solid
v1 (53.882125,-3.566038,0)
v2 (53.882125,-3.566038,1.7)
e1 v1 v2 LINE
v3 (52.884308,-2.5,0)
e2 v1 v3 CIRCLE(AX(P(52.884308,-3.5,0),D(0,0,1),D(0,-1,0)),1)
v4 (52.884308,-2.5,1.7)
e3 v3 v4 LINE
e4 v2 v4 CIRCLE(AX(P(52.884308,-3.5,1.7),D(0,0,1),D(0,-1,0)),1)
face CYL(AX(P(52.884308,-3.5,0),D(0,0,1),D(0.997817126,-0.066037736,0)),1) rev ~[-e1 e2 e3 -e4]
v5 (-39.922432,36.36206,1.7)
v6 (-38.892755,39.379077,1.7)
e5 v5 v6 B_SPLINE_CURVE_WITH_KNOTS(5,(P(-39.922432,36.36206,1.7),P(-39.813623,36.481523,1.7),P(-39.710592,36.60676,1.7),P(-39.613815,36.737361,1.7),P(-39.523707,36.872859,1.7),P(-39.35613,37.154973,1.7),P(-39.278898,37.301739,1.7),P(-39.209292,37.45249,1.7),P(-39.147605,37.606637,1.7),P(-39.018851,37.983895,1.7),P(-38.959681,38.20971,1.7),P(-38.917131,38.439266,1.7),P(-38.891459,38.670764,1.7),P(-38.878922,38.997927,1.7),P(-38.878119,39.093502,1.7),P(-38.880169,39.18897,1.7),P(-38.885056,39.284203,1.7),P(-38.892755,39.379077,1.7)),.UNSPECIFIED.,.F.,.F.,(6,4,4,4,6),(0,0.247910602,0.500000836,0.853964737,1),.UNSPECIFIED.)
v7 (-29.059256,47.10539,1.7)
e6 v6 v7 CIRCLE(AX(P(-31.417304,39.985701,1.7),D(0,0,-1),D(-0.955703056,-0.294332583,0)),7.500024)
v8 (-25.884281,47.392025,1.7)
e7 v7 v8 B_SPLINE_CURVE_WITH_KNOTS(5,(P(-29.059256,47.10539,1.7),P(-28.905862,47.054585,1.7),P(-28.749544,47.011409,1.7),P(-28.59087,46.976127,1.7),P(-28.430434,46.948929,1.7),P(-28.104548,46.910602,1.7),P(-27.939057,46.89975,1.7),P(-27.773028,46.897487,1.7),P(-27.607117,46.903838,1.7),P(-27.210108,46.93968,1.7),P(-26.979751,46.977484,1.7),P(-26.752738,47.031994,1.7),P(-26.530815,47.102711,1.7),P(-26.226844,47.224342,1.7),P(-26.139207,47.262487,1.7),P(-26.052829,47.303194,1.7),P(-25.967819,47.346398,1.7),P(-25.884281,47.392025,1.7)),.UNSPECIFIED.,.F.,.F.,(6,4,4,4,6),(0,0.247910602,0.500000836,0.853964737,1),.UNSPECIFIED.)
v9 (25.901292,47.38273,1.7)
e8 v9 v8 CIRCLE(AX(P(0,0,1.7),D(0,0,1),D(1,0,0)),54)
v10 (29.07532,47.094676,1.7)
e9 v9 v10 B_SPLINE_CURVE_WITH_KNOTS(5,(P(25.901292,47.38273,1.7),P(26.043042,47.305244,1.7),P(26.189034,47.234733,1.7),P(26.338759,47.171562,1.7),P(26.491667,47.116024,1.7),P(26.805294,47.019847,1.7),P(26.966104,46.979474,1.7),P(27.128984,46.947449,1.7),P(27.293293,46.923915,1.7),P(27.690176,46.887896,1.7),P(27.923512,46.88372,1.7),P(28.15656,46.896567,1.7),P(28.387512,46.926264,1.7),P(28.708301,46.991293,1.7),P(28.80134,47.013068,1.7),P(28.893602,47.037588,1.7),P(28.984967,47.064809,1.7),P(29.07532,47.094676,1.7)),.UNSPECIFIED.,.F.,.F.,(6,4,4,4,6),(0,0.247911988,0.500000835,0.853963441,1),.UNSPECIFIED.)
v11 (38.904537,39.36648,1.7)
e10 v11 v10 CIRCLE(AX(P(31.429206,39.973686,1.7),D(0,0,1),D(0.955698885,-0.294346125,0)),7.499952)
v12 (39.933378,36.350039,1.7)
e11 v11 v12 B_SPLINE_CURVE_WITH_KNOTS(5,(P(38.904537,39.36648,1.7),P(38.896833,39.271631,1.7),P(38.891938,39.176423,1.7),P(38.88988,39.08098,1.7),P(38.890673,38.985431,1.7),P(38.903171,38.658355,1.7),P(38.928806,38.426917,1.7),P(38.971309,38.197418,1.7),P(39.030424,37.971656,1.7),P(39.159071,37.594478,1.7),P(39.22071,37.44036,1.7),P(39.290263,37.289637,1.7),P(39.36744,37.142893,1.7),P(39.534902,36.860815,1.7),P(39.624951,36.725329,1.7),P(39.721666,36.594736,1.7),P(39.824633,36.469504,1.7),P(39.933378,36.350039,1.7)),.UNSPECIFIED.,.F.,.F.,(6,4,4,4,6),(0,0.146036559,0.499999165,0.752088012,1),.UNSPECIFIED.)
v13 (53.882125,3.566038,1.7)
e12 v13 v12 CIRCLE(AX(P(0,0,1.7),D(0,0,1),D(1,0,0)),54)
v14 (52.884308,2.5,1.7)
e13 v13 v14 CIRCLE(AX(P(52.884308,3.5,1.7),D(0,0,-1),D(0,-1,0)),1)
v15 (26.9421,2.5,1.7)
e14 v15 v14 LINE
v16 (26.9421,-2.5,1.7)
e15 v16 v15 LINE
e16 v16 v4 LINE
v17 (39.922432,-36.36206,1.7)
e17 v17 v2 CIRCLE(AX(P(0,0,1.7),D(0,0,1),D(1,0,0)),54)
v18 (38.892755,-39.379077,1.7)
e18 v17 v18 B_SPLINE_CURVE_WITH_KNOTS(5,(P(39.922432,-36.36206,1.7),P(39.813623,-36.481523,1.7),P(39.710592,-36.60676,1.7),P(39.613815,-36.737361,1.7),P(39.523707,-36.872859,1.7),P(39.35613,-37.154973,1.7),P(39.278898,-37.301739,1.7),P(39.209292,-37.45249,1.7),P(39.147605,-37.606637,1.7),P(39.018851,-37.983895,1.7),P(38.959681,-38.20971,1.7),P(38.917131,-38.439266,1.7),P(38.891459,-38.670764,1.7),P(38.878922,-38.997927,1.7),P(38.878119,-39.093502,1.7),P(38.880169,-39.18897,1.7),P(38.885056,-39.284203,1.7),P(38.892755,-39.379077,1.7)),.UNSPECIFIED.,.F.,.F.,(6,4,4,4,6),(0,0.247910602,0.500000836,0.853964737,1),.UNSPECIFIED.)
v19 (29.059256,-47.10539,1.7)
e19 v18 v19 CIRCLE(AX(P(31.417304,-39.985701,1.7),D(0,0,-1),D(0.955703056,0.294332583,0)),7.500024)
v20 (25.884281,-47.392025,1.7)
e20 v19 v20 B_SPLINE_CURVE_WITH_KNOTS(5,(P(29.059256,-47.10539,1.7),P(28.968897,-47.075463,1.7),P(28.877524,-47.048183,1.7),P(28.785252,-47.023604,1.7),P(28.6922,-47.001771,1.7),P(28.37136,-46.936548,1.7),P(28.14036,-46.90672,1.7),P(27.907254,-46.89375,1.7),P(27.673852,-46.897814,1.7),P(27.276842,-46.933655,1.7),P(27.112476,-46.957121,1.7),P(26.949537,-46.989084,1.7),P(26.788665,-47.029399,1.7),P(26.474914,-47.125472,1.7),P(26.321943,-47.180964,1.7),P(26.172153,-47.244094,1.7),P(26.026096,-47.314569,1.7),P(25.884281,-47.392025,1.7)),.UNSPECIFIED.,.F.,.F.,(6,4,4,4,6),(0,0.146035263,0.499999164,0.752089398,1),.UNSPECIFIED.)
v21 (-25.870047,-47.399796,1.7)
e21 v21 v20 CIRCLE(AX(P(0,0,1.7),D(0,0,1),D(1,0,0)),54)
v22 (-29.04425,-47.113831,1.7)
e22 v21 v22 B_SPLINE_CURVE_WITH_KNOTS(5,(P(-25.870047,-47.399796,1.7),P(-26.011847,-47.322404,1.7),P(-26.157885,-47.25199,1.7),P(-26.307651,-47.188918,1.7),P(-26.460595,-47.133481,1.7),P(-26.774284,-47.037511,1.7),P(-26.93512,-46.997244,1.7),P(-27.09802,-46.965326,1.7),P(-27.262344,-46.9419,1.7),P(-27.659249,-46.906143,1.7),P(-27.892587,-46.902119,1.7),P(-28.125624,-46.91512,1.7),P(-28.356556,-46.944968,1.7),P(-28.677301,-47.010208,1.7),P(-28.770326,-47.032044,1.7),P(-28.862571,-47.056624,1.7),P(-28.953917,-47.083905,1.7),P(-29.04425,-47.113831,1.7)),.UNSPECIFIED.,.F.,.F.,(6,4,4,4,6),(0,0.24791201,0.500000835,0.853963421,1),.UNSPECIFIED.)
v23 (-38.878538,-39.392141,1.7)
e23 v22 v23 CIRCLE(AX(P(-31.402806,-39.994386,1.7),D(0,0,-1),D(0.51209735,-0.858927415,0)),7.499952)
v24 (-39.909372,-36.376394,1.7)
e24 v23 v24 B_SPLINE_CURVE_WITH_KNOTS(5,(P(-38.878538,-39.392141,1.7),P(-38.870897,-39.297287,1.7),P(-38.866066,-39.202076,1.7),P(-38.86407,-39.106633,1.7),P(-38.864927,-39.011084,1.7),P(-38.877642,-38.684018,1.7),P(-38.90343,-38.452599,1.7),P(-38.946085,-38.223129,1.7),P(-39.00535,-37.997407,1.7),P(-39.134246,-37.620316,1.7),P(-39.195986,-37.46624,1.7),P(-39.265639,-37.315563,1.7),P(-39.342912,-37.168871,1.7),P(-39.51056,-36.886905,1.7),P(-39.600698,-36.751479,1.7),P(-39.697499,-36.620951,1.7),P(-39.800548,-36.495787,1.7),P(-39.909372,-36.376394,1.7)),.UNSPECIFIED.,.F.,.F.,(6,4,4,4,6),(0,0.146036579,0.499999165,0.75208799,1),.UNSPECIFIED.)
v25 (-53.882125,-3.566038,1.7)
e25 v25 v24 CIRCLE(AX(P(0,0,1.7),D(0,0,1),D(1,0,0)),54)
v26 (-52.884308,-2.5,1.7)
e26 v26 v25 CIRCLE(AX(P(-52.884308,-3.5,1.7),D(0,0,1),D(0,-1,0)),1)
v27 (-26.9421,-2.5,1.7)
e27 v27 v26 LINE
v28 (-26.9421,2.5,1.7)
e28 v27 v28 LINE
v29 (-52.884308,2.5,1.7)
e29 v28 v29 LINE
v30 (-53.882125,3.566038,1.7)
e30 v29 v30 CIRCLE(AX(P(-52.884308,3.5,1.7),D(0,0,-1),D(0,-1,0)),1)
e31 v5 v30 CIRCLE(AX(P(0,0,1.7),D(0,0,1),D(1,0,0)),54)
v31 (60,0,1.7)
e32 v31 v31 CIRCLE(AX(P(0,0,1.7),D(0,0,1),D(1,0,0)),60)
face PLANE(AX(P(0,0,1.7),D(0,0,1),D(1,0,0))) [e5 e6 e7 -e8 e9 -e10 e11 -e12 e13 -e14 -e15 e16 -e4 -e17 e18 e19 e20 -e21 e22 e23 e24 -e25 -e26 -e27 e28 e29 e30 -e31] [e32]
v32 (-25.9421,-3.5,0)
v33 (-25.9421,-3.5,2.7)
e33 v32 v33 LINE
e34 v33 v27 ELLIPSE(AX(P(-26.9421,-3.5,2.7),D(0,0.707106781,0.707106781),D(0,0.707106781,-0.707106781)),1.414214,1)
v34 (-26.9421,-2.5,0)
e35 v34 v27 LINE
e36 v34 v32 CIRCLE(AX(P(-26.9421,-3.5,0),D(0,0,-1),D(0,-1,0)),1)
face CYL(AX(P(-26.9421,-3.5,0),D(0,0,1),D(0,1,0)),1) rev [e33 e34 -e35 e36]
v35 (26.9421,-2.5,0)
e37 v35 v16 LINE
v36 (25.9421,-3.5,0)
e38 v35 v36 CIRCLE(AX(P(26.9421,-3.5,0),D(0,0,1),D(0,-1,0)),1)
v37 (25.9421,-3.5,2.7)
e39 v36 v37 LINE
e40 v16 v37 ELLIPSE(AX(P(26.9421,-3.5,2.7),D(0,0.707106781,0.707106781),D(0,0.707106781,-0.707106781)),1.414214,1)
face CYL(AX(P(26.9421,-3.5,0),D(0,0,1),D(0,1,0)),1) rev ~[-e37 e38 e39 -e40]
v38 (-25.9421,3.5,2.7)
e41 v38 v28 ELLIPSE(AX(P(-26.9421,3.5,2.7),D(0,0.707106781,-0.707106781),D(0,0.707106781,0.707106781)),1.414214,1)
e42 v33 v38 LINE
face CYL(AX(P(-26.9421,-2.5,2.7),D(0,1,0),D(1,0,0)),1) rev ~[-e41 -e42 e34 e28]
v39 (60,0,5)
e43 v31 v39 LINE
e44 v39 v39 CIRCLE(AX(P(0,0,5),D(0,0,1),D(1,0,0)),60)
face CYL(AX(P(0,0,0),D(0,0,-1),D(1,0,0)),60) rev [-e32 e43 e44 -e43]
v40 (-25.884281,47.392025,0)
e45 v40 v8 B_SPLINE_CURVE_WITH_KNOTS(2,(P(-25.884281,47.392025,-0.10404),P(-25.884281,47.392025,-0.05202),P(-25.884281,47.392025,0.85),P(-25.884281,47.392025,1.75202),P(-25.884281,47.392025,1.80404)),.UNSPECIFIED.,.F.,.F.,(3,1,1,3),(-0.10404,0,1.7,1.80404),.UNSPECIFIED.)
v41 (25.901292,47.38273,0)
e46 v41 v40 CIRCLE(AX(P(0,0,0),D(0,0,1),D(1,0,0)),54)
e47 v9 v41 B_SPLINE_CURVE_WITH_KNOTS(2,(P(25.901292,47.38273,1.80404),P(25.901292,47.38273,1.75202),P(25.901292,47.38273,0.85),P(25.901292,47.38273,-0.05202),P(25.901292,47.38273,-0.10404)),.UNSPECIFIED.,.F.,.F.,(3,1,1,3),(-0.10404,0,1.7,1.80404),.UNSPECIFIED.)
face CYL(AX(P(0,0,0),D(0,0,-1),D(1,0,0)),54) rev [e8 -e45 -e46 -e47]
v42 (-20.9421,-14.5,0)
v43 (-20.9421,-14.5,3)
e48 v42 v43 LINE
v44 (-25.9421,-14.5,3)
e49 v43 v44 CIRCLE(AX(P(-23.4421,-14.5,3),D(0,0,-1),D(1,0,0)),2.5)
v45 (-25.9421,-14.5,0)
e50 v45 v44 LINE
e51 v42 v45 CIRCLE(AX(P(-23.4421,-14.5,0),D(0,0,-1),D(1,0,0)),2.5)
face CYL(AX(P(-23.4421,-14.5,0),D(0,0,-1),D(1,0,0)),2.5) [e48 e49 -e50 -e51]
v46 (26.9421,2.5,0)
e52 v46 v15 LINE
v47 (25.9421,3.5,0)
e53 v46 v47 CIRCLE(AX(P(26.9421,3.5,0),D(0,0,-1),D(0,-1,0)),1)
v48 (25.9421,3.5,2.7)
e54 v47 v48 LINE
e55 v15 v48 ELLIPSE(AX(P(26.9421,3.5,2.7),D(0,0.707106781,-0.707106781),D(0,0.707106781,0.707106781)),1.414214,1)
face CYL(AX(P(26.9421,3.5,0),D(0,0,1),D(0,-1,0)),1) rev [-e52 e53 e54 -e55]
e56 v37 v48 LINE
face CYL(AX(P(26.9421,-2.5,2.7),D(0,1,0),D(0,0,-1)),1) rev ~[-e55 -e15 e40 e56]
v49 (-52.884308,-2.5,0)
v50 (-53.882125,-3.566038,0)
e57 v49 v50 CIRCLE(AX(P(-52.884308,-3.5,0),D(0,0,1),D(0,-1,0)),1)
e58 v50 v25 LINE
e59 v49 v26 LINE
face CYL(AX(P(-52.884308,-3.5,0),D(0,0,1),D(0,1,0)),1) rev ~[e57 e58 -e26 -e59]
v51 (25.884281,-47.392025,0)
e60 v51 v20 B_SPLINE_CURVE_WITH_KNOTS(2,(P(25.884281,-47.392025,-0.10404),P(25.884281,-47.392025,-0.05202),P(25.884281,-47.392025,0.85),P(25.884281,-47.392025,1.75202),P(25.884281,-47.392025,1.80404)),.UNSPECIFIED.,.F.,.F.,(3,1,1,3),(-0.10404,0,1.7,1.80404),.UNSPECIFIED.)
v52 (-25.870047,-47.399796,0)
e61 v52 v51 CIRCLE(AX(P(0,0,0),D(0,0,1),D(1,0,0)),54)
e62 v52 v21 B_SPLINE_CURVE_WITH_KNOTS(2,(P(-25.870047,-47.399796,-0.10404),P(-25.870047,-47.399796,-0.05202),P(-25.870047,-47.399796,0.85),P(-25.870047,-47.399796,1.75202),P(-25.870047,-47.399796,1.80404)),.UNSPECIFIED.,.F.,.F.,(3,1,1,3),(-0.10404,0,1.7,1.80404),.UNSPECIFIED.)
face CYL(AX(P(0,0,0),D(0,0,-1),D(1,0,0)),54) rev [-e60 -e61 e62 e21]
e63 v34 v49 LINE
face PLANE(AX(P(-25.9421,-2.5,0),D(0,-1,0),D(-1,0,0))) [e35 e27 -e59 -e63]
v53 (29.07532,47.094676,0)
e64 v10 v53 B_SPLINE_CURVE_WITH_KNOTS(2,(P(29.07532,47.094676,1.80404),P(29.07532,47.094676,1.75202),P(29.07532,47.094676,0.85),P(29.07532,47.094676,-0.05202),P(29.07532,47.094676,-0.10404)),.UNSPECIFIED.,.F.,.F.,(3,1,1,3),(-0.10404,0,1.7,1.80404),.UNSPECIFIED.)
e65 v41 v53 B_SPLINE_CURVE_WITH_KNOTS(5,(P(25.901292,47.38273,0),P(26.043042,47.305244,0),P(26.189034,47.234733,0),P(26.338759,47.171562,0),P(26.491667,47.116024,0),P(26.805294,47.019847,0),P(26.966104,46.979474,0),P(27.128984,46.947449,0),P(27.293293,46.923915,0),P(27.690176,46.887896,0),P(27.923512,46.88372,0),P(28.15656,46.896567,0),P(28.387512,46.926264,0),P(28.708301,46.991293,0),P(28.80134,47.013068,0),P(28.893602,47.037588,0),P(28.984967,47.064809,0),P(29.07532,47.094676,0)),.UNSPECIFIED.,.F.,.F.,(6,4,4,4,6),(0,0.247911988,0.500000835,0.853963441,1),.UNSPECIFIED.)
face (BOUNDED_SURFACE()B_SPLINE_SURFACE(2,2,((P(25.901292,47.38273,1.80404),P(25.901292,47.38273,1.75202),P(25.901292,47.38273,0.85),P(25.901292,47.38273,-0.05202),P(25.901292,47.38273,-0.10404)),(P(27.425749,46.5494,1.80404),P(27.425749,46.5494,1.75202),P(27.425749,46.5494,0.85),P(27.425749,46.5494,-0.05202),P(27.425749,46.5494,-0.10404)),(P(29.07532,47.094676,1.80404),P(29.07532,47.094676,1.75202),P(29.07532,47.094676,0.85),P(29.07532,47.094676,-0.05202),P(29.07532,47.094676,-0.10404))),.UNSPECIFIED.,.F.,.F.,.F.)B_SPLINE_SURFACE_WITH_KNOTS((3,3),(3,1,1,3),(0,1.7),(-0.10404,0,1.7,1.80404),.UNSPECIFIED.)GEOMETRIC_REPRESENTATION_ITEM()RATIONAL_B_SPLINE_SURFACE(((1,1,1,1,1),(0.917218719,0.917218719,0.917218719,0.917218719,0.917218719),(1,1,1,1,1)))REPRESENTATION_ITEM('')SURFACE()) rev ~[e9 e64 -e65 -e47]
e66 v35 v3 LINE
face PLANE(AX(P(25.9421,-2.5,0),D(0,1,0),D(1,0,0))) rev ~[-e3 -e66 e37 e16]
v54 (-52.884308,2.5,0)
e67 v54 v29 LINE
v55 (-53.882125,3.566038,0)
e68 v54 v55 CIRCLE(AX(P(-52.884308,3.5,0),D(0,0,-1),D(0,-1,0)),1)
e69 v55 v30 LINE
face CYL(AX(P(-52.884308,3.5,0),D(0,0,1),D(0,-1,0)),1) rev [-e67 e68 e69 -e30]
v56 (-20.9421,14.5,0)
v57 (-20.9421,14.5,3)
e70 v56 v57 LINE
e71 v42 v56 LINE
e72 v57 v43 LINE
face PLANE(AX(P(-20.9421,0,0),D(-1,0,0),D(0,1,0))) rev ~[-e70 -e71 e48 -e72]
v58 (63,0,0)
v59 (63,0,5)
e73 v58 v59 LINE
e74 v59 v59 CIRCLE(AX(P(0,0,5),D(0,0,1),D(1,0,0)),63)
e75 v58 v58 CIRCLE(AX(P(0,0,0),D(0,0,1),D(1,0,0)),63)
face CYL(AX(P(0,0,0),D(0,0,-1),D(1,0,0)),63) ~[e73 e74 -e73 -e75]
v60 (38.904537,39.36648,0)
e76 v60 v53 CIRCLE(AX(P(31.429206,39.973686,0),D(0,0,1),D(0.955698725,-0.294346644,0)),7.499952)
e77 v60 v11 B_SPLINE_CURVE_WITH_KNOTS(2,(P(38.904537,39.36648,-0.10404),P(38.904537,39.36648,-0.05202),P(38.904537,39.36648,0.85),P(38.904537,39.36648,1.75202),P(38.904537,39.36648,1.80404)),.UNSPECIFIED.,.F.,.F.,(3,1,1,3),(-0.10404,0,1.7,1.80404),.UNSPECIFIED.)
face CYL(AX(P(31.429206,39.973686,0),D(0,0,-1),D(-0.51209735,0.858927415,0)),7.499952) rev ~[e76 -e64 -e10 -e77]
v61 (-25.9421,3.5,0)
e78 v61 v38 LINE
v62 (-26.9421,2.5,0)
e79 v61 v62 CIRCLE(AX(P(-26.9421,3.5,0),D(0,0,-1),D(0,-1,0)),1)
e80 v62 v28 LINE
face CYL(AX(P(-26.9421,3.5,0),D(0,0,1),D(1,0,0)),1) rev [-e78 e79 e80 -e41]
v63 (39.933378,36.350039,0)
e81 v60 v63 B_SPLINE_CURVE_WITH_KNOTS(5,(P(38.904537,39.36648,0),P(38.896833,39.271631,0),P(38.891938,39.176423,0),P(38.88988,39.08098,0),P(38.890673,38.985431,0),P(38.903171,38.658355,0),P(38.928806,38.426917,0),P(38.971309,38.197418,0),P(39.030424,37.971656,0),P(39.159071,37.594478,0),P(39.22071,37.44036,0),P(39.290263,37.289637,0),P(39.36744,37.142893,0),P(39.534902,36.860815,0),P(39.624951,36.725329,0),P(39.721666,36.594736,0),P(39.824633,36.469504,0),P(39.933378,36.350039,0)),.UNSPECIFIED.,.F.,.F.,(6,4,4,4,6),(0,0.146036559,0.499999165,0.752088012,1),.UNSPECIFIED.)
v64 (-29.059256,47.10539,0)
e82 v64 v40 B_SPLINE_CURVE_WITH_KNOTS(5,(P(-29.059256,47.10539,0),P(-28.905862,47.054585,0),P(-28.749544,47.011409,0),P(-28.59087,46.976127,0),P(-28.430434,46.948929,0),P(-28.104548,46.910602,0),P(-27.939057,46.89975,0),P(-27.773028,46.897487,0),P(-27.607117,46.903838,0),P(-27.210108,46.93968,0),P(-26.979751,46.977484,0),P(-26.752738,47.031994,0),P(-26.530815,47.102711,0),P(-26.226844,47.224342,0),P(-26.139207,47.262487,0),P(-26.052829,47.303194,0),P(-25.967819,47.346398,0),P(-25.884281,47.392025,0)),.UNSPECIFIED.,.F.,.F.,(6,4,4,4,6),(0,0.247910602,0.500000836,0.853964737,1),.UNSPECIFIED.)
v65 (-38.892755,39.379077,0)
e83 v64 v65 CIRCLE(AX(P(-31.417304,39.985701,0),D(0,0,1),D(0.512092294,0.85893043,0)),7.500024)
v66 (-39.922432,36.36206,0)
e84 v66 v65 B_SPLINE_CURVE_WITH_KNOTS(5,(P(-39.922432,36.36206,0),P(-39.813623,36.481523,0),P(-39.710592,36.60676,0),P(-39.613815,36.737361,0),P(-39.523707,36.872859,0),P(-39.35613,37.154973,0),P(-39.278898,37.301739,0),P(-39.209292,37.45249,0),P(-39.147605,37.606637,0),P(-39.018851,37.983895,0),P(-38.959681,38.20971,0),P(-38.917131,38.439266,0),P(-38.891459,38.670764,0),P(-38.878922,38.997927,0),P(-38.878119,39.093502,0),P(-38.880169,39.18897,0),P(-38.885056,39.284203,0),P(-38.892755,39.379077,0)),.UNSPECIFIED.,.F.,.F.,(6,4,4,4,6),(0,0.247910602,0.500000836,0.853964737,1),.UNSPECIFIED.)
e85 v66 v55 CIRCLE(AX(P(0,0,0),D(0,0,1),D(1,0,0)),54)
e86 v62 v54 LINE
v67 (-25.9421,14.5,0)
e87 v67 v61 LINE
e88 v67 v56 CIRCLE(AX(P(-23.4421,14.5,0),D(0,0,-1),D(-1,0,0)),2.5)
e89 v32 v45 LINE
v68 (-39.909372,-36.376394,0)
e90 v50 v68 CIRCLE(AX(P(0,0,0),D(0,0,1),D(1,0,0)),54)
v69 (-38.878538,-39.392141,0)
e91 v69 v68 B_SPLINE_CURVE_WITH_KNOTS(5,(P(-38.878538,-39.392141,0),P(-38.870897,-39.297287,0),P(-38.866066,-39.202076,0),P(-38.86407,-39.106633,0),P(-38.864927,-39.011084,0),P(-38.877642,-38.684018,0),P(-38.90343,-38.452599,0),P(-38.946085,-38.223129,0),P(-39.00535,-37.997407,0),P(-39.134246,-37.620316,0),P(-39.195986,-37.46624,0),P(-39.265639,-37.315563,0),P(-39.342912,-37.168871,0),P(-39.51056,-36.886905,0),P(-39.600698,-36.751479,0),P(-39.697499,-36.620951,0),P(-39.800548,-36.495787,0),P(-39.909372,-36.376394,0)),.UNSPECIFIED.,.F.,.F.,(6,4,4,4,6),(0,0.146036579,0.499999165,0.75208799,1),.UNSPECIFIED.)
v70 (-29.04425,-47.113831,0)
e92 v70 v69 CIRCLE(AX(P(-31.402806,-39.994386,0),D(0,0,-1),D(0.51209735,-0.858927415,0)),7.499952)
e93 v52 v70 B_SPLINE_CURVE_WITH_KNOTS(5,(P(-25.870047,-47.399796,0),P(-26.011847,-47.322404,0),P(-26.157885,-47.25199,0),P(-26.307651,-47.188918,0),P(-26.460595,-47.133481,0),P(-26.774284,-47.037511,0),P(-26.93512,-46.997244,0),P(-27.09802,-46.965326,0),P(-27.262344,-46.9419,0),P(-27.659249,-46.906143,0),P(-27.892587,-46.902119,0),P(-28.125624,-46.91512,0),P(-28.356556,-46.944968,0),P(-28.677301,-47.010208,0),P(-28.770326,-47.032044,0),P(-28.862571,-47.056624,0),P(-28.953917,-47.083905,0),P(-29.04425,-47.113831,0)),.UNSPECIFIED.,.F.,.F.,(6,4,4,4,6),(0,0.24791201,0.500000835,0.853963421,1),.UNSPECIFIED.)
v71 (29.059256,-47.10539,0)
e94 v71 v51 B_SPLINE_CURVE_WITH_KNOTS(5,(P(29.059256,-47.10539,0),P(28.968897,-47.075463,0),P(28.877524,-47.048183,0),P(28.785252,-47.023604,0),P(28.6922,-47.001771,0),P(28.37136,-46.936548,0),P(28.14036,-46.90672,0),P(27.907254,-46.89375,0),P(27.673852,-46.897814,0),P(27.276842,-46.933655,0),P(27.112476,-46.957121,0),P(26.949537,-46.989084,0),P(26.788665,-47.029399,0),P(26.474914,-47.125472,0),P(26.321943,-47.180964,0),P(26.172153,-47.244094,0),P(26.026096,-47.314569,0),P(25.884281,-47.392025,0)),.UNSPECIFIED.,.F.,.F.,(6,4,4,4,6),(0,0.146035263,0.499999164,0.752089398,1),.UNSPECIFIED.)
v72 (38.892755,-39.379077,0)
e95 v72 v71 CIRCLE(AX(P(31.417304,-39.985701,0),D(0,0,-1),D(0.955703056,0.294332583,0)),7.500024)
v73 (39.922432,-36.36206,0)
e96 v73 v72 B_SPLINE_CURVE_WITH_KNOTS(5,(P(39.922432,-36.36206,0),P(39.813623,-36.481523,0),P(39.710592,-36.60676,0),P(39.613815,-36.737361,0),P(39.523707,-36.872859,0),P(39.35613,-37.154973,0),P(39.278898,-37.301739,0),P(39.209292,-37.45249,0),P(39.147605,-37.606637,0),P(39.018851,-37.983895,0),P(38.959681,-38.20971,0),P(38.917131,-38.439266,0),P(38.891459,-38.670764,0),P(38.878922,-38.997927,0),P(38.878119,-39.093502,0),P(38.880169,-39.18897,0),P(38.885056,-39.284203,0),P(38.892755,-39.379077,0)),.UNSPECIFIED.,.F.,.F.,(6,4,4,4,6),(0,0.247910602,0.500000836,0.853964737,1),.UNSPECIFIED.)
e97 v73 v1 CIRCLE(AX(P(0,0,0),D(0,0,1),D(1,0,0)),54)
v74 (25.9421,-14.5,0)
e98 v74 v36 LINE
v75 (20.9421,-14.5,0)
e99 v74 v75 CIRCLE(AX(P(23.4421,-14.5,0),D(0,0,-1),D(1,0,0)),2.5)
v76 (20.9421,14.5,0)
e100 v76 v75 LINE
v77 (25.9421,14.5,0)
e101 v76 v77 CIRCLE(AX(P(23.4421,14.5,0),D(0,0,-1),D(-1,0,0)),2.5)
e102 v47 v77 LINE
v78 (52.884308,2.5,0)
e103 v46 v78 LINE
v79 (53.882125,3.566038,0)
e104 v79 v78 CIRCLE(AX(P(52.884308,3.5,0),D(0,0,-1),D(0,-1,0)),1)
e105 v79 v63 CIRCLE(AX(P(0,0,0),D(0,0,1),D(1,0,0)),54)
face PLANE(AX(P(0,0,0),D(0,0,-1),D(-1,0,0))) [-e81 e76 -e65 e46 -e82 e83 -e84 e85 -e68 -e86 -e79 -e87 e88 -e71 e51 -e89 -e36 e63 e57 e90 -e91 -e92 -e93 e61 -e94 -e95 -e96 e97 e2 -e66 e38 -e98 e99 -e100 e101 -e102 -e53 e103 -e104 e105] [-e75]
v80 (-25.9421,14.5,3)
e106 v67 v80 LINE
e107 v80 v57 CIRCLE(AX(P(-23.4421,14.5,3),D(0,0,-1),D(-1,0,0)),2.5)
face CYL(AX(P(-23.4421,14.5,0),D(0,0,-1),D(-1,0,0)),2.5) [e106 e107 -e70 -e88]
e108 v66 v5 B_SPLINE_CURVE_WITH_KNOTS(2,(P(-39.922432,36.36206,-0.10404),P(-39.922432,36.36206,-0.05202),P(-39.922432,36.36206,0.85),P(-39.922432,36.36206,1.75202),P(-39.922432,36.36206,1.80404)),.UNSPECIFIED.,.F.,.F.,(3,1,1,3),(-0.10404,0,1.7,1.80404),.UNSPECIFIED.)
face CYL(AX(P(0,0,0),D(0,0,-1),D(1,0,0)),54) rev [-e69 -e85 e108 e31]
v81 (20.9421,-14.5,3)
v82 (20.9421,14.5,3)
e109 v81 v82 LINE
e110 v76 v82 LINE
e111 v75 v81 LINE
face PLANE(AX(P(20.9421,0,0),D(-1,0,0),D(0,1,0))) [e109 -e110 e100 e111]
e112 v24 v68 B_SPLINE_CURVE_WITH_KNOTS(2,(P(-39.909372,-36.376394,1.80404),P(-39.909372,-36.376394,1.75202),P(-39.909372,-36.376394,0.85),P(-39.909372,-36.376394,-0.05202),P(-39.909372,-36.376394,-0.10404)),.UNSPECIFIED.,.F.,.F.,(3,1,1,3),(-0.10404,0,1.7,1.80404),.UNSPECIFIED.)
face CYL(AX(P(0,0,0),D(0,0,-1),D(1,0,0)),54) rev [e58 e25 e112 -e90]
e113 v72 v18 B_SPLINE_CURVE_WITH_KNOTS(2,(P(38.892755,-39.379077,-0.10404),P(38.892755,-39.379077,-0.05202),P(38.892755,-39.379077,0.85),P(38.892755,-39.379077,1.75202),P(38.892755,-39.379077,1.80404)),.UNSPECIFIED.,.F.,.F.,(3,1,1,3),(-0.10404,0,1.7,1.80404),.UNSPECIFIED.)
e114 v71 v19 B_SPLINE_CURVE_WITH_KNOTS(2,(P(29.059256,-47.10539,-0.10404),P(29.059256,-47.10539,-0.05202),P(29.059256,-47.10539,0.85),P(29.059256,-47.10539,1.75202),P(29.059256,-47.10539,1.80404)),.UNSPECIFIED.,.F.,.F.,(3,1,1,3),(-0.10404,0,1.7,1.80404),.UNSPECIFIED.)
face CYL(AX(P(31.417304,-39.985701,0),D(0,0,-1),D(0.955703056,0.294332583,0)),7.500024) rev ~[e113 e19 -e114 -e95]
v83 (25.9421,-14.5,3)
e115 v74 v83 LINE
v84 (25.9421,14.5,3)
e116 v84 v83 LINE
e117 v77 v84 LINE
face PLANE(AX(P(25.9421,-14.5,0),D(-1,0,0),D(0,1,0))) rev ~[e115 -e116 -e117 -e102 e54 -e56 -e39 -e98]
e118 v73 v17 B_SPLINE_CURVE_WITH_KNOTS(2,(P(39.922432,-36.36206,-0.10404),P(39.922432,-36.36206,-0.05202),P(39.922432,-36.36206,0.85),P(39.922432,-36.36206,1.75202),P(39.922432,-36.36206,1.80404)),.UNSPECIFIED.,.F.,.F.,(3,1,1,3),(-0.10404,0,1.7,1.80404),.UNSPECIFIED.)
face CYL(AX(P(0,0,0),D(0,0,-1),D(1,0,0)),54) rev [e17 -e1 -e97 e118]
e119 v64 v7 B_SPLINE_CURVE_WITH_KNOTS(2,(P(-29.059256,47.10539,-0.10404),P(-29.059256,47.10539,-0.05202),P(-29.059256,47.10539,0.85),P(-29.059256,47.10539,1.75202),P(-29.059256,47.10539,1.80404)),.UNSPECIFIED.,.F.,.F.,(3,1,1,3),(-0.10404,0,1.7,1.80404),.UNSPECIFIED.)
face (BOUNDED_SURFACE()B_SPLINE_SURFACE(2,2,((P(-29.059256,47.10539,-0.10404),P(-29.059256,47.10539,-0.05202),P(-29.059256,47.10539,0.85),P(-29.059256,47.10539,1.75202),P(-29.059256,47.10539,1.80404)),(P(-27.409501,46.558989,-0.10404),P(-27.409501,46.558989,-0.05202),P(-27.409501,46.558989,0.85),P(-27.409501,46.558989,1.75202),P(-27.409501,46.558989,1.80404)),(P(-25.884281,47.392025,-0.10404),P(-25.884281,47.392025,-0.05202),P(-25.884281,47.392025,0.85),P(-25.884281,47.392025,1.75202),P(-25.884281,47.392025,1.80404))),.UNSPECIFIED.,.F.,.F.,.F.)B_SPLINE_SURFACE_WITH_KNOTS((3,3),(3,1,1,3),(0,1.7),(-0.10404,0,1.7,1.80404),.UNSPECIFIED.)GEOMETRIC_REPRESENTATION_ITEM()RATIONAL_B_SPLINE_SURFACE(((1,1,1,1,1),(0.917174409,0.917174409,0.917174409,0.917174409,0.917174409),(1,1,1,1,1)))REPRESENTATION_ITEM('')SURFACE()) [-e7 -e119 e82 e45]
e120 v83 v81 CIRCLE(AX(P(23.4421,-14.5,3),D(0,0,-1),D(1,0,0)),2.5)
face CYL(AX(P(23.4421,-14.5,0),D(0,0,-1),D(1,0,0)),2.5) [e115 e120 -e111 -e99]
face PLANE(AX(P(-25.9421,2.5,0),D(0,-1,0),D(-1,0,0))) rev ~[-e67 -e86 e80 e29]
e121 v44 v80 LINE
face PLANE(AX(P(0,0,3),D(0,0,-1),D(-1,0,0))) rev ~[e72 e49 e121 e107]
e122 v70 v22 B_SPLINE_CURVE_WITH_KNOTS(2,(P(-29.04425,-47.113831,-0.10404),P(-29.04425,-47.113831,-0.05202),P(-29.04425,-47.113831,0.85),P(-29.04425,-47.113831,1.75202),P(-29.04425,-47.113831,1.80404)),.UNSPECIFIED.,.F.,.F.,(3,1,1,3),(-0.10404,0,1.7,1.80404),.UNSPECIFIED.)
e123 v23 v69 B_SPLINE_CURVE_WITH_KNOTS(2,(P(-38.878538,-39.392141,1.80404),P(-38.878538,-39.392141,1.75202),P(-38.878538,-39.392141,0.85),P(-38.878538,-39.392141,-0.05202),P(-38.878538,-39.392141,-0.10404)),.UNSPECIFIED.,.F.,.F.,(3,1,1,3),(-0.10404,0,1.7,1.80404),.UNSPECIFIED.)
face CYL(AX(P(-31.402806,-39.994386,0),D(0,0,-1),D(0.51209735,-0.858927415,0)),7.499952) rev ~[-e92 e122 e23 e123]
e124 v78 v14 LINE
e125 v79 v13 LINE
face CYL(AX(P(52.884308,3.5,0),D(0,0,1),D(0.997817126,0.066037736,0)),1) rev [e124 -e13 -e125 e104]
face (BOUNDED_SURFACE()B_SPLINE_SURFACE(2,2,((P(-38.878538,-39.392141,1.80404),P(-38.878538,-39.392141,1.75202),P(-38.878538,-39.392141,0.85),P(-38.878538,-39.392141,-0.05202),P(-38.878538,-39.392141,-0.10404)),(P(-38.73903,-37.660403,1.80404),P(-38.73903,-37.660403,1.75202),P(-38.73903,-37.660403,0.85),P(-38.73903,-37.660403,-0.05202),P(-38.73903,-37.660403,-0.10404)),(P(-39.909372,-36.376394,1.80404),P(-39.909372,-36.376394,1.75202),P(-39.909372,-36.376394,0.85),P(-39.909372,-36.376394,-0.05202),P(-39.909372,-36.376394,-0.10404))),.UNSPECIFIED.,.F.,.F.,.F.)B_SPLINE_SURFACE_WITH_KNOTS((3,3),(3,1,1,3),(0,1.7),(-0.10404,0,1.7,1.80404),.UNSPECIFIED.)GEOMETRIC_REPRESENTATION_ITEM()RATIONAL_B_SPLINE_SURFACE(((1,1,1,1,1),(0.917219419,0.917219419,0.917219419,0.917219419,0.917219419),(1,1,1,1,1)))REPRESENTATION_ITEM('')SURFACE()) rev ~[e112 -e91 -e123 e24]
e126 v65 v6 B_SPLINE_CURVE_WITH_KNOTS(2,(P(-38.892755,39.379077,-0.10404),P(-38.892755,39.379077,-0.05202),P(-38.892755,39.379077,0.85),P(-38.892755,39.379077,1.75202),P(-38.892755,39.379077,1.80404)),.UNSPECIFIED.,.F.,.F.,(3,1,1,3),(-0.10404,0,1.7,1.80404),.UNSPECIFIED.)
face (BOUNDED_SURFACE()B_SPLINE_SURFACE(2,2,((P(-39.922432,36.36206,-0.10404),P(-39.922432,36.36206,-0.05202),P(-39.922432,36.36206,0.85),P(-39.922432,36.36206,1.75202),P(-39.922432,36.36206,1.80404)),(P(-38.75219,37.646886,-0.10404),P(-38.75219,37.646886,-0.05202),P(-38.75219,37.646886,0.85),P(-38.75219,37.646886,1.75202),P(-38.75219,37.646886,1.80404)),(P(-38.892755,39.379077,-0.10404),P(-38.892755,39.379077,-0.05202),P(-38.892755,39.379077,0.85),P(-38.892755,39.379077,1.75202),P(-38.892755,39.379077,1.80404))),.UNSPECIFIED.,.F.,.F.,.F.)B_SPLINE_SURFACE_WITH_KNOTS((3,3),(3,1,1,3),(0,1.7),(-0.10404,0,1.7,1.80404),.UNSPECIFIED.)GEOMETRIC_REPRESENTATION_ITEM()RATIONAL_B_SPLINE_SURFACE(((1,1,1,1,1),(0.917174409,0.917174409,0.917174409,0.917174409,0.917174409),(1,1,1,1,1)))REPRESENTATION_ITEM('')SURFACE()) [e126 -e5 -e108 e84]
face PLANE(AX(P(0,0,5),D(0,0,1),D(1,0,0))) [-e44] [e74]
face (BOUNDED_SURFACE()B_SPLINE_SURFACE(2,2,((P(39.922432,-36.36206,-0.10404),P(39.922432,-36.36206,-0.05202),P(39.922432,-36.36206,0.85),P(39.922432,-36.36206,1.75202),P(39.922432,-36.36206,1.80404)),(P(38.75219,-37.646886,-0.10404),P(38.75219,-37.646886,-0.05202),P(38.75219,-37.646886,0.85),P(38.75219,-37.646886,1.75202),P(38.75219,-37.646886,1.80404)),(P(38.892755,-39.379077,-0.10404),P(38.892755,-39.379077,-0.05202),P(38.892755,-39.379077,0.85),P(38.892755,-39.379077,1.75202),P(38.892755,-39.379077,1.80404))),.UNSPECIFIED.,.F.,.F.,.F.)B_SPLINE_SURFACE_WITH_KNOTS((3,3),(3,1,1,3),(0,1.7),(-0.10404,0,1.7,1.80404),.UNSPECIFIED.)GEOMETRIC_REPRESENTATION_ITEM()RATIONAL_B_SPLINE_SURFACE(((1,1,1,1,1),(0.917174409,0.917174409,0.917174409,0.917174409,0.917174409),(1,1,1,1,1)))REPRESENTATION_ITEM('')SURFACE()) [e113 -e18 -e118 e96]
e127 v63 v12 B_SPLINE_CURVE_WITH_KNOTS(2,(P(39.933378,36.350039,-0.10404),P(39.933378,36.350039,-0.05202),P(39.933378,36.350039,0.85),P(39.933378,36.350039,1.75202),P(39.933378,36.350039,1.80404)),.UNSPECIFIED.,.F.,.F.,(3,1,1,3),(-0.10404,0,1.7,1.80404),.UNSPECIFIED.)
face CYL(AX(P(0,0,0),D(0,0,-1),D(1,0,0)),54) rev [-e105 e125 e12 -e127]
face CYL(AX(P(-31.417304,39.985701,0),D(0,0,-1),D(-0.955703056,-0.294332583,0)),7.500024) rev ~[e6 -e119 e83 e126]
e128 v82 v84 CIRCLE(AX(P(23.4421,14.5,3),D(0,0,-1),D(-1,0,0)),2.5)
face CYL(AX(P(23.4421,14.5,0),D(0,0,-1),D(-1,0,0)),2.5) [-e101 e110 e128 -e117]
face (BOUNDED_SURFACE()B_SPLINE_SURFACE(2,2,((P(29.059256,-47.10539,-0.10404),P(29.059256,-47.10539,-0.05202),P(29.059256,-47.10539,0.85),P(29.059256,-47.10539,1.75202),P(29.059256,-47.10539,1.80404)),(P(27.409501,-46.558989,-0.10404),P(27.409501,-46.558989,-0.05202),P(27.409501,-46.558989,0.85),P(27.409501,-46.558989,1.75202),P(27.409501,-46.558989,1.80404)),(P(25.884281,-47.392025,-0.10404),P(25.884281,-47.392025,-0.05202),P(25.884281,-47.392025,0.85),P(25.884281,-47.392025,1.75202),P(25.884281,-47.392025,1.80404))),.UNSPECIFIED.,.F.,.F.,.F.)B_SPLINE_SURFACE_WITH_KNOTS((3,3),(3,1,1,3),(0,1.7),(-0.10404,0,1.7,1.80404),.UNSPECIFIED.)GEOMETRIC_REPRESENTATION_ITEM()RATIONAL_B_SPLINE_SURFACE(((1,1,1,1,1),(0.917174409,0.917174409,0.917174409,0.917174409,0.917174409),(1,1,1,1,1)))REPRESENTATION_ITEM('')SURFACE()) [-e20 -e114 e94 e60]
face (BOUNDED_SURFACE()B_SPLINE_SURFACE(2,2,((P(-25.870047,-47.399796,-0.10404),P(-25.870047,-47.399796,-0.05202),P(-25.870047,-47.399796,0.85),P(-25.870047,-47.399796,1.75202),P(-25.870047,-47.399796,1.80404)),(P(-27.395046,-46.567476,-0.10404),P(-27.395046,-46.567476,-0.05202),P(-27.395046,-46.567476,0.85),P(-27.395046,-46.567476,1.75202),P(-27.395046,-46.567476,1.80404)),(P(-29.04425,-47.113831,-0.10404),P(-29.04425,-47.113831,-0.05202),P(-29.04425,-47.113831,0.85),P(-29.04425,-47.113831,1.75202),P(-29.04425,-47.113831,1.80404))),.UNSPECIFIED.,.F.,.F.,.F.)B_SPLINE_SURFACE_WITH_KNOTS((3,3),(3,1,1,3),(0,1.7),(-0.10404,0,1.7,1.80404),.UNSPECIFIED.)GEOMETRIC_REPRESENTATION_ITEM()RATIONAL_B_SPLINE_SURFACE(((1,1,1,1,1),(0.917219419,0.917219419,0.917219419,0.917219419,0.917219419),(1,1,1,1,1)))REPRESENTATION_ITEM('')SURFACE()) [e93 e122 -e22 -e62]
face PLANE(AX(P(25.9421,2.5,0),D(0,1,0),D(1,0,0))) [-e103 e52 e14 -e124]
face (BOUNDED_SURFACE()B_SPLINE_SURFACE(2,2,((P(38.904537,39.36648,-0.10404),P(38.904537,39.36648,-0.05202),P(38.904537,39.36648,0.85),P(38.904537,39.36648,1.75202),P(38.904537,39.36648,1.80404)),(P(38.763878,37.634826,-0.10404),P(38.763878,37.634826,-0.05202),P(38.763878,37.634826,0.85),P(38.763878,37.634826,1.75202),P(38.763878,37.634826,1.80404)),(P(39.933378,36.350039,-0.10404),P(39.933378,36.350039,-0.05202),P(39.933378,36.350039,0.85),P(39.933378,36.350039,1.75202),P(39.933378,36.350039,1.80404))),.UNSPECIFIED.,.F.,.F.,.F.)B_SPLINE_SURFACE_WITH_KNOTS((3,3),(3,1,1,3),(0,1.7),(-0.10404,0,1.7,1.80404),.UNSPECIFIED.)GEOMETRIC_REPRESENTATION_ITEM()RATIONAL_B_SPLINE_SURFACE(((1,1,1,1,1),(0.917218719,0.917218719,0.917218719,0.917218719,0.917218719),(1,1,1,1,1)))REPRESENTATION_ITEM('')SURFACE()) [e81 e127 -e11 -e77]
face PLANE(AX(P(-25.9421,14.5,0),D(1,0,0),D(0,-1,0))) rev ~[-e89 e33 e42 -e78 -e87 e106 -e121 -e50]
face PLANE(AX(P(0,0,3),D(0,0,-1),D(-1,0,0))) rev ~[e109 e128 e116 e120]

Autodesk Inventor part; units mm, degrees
ref_plane "YZ Plane" through (0, 0, 0) normal (1, 0, 0) x (0, 1, 0)
ref_plane "XZ Plane" through (0, 0, 0) normal (0, 1, 0) x (-1, 0, 0)
ref_plane "XY Plane" through (0, 0, 0) normal (0, 0, 1) x (1, 0, 0)
sketch "Esquisse1" plane through (0, 0, 0) normal (0, 0, 1) x (1, 0, 0)
  circle A0 centre (0, 0) radius 63
  circle A1 centre (0, 0) radius 60
  circle A2 centre (0, 0) radius 54
  line L0 (-25.9421, 2.5) -> (-53.9421, 2.5)
  line L1 (-25.9421, -2.5) -> (-53.9421, -2.5)
  line L2 (-20.9421, 0) -> (-20.9421, 14.5)
  line L3 (-25.9421, 14.5) -> (-25.9421, 2.5)
  line L4 (-20.9421, 0) -> (-20.9421, -14.5)
  line L5 (-25.9421, -14.5) -> (-25.9421, 2.5)
  arc A3 (-25.9421, -14.5) -> (-20.9421, -14.5) centre (-23.4421, -14.5) ccw
  arc A4 (-20.9421, 14.5) -> (-25.9421, 14.5) centre (-23.4421, 14.5) ccw
  line L6 (0, 0) -> (0, 11.8583)
  line L7 (25.9421, 2.5) -> (53.9421, 2.5)
  line L8 (25.9421, -2.5) -> (53.9421, -2.5)
  line L9 (20.9421, 0) -> (20.9421, 14.5)
  line L10 (25.9421, 14.5) -> (25.9421, 2.5)
  line L11 (20.9421, 0) -> (20.9421, -14.5)
  line L12 (25.9421, -14.5) -> (25.9421, 14.5)
  arc A5 (20.9421, -14.5) -> (25.9421, -14.5) centre (23.4421, -14.5) ccw
  arc A6 (25.9421, 14.5) -> (20.9421, 14.5) centre (23.4421, 14.5) ccw
  line L13 (25.9421, 2.5) -> (56.5559, 2.5)
  line L14 (56.5559, 2.5) -> (56.5559, -2.5)
  line L15 (56.5559, -2.5) -> (25.9421, -2.5)
  line L16 (25.9421, -2.5) -> (25.9421, 2.5)
  dimension "d0" = 126
  dimension "d1" = 120
  dimension "d2" = 108
  dimension "d3" = 28
  dimension "d6" = 14.5
  dimension "d8" = 5
extrude "Extrusion1" add sketch "Esquisse1" along normal blind 5 contours A0
extrude "Extrusion2" add sketch "Esquisse1" along normal blind 1.7 contours A1 | A2 L8 L12 L7 | A2 L13 L14 L15 | L0 L5 L1 A2
sketch "Esquisse3" plane through (0, 0, 0) normal (0, 0, -1) x (-1, 0, 0)
  line L0 (20.9421, 0) -> (20.9421, 14.5) projected
  line L1 (20.9421, 0) -> (20.9421, -14.5) projected
  arc A0 (20.9421, -14.5) -> (25.9421, -14.5) centre (23.4421, -14.5) ccw projected
  line L2 (25.9421, -14.5) -> (25.9421, 2.5) projected
  line L3 (25.9421, 14.5) -> (25.9421, 2.5) projected
  arc A1 (25.9421, 14.5) -> (20.9421, 14.5) centre (23.4421, 14.5) ccw projected
  arc A2 (-20.9421, 14.5) -> (-25.9421, 14.5) centre (-23.4421, 14.5) ccw projected
  line L4 (-25.9421, 14.5) -> (-25.9421, 2.5) projected
  line L5 (-25.9421, -14.5) -> (-25.9421, 14.5) projected
  arc A3 (-25.9421, -14.5) -> (-20.9421, -14.5) centre (-23.4421, -14.5) ccw projected
  line L6 (-20.9421, 0) -> (-20.9421, -14.5) projected
  line L7 (-20.9421, 0) -> (-20.9421, 14.5) projected
  point P0 (0, 0)
extrude "Extrusion3" add sketch "Esquisse3" against normal blind 3
fillet "Congé1" radius 1 3 edges at (25.9421, 0, 1.7) (25.9421, -2.5, 0.85) (25.9421, 2.5, 0.85)
fillet "Congé2" radius 1 3 edges at (-25.9421, 0, 1.7) (-25.9421, -2.5, 0.85) (-25.9421, 2.5, 0.85)
fillet "Congé3" radius 1 4 edges at (53.9421, 2.5, 0.85) (53.9421, -2.5, 0.85) (-53.9421, 2.5, 0.85) (-53.9421, -2.5, 0.85)
sketch "Esquisse4" plane through (0, 0, 0) normal (0, 0, -1) x (-1, 0, 0)
  arc A0 (53.8821, 3.566) -> (-53.8821, 3.566) centre (0, 0) ccw projected
  arc A1 (-53.8821, -3.566) -> (53.8821, -3.566) centre (0, 0) ccw projected
  arc A2 (53.8821, 3.566) -> (-53.8821, 3.566) centre (0, 0) ccw projected
  arc A3 (52.8843, 2.5) -> (53.8821, 3.566) centre (52.8843, 3.5) ccw projected
  line L0 (52.8843, 2.5) -> (26.9421, 2.5) projected
  arc A4 (25.9421, 3.5) -> (26.9421, 2.5) centre (26.9421, 3.5) ccw projected
  line L1 (25.9421, 3.5) -> (25.9421, 14.5) projected
  arc A5 (25.9421, 14.5) -> (20.9421, 14.5) centre (23.4421, 14.5) ccw projected
  line L2 (20.9421, 14.5) -> (20.9421, -14.5) projected
  arc A6 (20.9421, -14.5) -> (25.9421, -14.5) centre (23.4421, -14.5) ccw projected
  line L3 (25.9421, -14.5) -> (25.9421, -3.5) projected
  arc A7 (26.9421, -2.5) -> (25.9421, -3.5) centre (26.9421, -3.5) ccw projected
  line L4 (26.9421, -2.5) -> (52.8843, -2.5) projected
  arc A8 (53.8821, -3.566) -> (52.8843, -2.5) centre (52.8843, -3.5) ccw projected
  arc A9 (-53.8821, -3.566) -> (53.8821, -3.566) centre (0, 0) ccw projected
  arc A10 (-52.8843, -2.5) -> (-53.8821, -3.566) centre (-52.8843, -3.5) ccw projected
  line L5 (-26.9421, -2.5) -> (-52.8843, -2.5) projected
  arc A11 (-25.9421, -3.5) -> (-26.9421, -2.5) centre (-26.9421, -3.5) ccw projected
  line L6 (-25.9421, -3.5) -> (-25.9421, -14.5) projected
  arc A12 (-25.9421, -14.5) -> (-20.9421, -14.5) centre (-23.4421, -14.5) ccw projected
  line L7 (-20.9421, -14.5) -> (-20.9421, 14.5) projected
  arc A13 (-20.9421, 14.5) -> (-25.9421, 14.5) centre (-23.4421, 14.5) ccw projected
  line L8 (-25.9421, 14.5) -> (-25.9421, 3.5) projected
  arc A14 (-26.9421, 2.5) -> (-25.9421, 3.5) centre (-26.9421, 3.5) ccw projected
  line L9 (-52.8843, 2.5) -> (-26.9421, 2.5) projected
  arc A15 (-53.8821, 3.566) -> (-52.8843, 2.5) centre (-52.8843, 3.5) ccw projected
  circle A16 centre (0, 0) radius 63 projected
  line L10 (32.9786, 41.9728) -> (-33, 41.9728)
  line L11 (-33, 41.9728) -> (-33, -42)
  line L12 (-33, -42) -> (32.9786, -42)
  line L13 (32.9786, -42) -> (32.9786, 41.9728)
  line L14 (32.9786, 32.8) -> (-33, 32.8)
  line L15 (32.9786, -32.8) -> (-33, -32.8)
  line L16 (-33.3624, -42.4612) -> (38.9228, 49.5381)
  line L17 (33.3492, -42.4716) -> (-38.936, 49.5277)
  line L18 (-33.2831, 42.3332) -> (-36.4284, 39.8619)
  line L19 (-33.2831, 42.3332) -> (-30.1379, 44.8045)
  arc A17 (-30.1379, 44.8045) -> (-36.4284, 39.8619) centre (-32.5624, 41.4158) ccw
  line L20 (33.2707, 42.3445) -> (30.1254, 44.8158)
  line L21 (33.2707, 42.3445) -> (36.416, 39.8733)
  line L22 (33.2831, -42.3332) -> (36.4284, -39.8619)
  line L23 (33.2831, -42.3332) -> (30.1379, -44.8045)
  arc A18 (30.1379, -44.8045) -> (36.4284, -39.8619) centre (32.5624, -41.4158) ccw
  arc A19 (36.416, 39.8733) -> (30.1254, 44.8158) centre (32.5499, 41.4272) ccw
  line L24 (-33.2707, -42.3445) -> (-36.416, -39.8733)
  arc A20 (-36.416, -39.8733) -> (-30.1254, -44.8158) centre (-32.5499, -41.4272) ccw
  line L25 (-33.2707, -42.3445) -> (-30.1254, -44.8158)
  arc A21 (-53.8821, -3.566) -> (53.8821, -3.566) centre (0, 0) ccw projected
  line L26 (-38.5851, -37.7782) -> (-27.5766, -46.4277)
  arc A22 (-38.5851, -37.7782) -> (-27.5766, -46.4277) centre (-31.4173, -39.9857) ccw
  line L27 (-38.5969, 37.7661) -> (-27.5885, 46.4156)
  arc A23 (-27.5885, 46.4156) -> (-38.5969, 37.7661) centre (-31.4292, 39.9736) ccw
  line L28 (27.5621, -46.4363) -> (38.5705, -37.7868)
  arc A24 (27.5621, -46.4363) -> (38.5705, -37.7868) centre (31.4028, -39.9943) ccw
  line L29 (27.5766, 46.4277) -> (38.5851, 37.7782)
  arc A25 (38.5851, 37.7782) -> (27.5766, 46.4277) centre (31.4173, 39.9857) ccw
  point P0 (-35.1366, 44.6921)
  point P1 (35.1242, 44.7035)
  point P2 (33, -41.9728)
  point P3 (35.1366, -44.6921)
  point P4 (-32.9786, -41.9728)
  point P5 (-35.1242, -44.7035)
  point P6 (-38.9228, -49.5381)
  dimension "d42" = 33
  dimension "d43" = 42
  dimension "d44" = 4
  dimension "d45" = 4
  dimension "d46" = 3
  dimension "d47" = 65.9786
  dimension "d48" = 83.9728
  dimension "d53" = 4
  dimension "d54" = 4
  dimension "d55" = 3
  dimension "d58" = 360
  dimension "d62" = 360
  dimension "d80" = 7
  dimension "d81" = 14
  dimension "d82" = 7.5
  dimension "d83" = 14
  dimension "d84" = 7
  dimension "d85" = 7.5
  dimension "d86" = 14
  dimension "d87" = 7
  dimension "d88" = 7.5
  dimension "d89" = 14
  dimension "d90" = 7
  dimension "d91" = 7.5
extrude "Extrusion4" cut sketch "Esquisse4" against normal blind 10 contours L25 A1 L16 | L16 A1 L24 | A20 A1
extrude "Extrusion5" cut sketch "Esquisse4" against normal blind 10 contours L18 A0 L17 | A0 A17 L17 picked at (-34.5217, 42.711)
extrude "Extrusion6" cut sketch "Esquisse4" against normal blind 10 contours L19 L17 A0 | A0 L17 A17 picked at (-33.3576, 43.626)
extrude "Extrusion7" cut sketch "Esquisse4" against normal blind 10 contours L21 L16 A0 | A0 L16 A19 picked at (34.5088, 42.7218)
extrude "Extrusion8" cut sketch "Esquisse4" against normal blind 10 contours A18 A1 | A1 L17 L23 L22 | L17 A1 L23
extrude "Extrusion9" cut sketch "Esquisse4" against normal blind 10 contours L16 L20 A0 | A0 A19 L16 picked at (33.3443, 43.6367)
fillet "Congé4" radius 4 6 edges at (36.416, -39.8733, 0.85) (30.1254, -44.8158, 0.85) (36.4284, 39.8619, 0.85) (-36.416, 39.8733, 0.85) (-30.14, -44.806, 0.85) (-36.4284, -39.8619, 0.85)
extrude "Extrusion10" cut sketch "Esquisse4" against normal blind 10 contours A24 A1 A18 | A1 L22 L23 L17 L28 A24 | L17 L23 A1 L28
extrude "Extrusion11" cut sketch "Esquisse4" against normal blind 10 contours L29 L16 L21 A0 | A0 A19 L16 A25 | L29 A0 L20 L16 | L16 A19 A0 A25
extrude "Extrusion12" cut sketch "Esquisse4" against normal blind 10 contours A23 L27 L17 L19 A0 | A0 A17 L17 A23 | L27 A0 L18 L17 | L17 A17 A0 A23
extrude "Extrusion13" cut sketch "Esquisse4" against normal blind 10 contours L26 A1 L25 L16 | L16 L24 A1 L26 | A22 A1 A20
fillet "Congé5" radius 4 8 edges at (38.5851, -37.7782, 0.85) (27.5766, -46.4277, 0.85) (-27.5621, -46.4363, 0.85) (-38.572, -37.7916, 0.85) (27.5927, 46.4181, 0.85) (38.5969, 37.7661, 0.85) (-38.5851, 37.7782, 0.85) (-27.5766, 46.4277, 0.85)
equation "\"d80\" = 0.5 * d81"
equation "\"d90\" = 0.5 * d89"
properties part number "bumper_modified2" material "Plastique ABS"
